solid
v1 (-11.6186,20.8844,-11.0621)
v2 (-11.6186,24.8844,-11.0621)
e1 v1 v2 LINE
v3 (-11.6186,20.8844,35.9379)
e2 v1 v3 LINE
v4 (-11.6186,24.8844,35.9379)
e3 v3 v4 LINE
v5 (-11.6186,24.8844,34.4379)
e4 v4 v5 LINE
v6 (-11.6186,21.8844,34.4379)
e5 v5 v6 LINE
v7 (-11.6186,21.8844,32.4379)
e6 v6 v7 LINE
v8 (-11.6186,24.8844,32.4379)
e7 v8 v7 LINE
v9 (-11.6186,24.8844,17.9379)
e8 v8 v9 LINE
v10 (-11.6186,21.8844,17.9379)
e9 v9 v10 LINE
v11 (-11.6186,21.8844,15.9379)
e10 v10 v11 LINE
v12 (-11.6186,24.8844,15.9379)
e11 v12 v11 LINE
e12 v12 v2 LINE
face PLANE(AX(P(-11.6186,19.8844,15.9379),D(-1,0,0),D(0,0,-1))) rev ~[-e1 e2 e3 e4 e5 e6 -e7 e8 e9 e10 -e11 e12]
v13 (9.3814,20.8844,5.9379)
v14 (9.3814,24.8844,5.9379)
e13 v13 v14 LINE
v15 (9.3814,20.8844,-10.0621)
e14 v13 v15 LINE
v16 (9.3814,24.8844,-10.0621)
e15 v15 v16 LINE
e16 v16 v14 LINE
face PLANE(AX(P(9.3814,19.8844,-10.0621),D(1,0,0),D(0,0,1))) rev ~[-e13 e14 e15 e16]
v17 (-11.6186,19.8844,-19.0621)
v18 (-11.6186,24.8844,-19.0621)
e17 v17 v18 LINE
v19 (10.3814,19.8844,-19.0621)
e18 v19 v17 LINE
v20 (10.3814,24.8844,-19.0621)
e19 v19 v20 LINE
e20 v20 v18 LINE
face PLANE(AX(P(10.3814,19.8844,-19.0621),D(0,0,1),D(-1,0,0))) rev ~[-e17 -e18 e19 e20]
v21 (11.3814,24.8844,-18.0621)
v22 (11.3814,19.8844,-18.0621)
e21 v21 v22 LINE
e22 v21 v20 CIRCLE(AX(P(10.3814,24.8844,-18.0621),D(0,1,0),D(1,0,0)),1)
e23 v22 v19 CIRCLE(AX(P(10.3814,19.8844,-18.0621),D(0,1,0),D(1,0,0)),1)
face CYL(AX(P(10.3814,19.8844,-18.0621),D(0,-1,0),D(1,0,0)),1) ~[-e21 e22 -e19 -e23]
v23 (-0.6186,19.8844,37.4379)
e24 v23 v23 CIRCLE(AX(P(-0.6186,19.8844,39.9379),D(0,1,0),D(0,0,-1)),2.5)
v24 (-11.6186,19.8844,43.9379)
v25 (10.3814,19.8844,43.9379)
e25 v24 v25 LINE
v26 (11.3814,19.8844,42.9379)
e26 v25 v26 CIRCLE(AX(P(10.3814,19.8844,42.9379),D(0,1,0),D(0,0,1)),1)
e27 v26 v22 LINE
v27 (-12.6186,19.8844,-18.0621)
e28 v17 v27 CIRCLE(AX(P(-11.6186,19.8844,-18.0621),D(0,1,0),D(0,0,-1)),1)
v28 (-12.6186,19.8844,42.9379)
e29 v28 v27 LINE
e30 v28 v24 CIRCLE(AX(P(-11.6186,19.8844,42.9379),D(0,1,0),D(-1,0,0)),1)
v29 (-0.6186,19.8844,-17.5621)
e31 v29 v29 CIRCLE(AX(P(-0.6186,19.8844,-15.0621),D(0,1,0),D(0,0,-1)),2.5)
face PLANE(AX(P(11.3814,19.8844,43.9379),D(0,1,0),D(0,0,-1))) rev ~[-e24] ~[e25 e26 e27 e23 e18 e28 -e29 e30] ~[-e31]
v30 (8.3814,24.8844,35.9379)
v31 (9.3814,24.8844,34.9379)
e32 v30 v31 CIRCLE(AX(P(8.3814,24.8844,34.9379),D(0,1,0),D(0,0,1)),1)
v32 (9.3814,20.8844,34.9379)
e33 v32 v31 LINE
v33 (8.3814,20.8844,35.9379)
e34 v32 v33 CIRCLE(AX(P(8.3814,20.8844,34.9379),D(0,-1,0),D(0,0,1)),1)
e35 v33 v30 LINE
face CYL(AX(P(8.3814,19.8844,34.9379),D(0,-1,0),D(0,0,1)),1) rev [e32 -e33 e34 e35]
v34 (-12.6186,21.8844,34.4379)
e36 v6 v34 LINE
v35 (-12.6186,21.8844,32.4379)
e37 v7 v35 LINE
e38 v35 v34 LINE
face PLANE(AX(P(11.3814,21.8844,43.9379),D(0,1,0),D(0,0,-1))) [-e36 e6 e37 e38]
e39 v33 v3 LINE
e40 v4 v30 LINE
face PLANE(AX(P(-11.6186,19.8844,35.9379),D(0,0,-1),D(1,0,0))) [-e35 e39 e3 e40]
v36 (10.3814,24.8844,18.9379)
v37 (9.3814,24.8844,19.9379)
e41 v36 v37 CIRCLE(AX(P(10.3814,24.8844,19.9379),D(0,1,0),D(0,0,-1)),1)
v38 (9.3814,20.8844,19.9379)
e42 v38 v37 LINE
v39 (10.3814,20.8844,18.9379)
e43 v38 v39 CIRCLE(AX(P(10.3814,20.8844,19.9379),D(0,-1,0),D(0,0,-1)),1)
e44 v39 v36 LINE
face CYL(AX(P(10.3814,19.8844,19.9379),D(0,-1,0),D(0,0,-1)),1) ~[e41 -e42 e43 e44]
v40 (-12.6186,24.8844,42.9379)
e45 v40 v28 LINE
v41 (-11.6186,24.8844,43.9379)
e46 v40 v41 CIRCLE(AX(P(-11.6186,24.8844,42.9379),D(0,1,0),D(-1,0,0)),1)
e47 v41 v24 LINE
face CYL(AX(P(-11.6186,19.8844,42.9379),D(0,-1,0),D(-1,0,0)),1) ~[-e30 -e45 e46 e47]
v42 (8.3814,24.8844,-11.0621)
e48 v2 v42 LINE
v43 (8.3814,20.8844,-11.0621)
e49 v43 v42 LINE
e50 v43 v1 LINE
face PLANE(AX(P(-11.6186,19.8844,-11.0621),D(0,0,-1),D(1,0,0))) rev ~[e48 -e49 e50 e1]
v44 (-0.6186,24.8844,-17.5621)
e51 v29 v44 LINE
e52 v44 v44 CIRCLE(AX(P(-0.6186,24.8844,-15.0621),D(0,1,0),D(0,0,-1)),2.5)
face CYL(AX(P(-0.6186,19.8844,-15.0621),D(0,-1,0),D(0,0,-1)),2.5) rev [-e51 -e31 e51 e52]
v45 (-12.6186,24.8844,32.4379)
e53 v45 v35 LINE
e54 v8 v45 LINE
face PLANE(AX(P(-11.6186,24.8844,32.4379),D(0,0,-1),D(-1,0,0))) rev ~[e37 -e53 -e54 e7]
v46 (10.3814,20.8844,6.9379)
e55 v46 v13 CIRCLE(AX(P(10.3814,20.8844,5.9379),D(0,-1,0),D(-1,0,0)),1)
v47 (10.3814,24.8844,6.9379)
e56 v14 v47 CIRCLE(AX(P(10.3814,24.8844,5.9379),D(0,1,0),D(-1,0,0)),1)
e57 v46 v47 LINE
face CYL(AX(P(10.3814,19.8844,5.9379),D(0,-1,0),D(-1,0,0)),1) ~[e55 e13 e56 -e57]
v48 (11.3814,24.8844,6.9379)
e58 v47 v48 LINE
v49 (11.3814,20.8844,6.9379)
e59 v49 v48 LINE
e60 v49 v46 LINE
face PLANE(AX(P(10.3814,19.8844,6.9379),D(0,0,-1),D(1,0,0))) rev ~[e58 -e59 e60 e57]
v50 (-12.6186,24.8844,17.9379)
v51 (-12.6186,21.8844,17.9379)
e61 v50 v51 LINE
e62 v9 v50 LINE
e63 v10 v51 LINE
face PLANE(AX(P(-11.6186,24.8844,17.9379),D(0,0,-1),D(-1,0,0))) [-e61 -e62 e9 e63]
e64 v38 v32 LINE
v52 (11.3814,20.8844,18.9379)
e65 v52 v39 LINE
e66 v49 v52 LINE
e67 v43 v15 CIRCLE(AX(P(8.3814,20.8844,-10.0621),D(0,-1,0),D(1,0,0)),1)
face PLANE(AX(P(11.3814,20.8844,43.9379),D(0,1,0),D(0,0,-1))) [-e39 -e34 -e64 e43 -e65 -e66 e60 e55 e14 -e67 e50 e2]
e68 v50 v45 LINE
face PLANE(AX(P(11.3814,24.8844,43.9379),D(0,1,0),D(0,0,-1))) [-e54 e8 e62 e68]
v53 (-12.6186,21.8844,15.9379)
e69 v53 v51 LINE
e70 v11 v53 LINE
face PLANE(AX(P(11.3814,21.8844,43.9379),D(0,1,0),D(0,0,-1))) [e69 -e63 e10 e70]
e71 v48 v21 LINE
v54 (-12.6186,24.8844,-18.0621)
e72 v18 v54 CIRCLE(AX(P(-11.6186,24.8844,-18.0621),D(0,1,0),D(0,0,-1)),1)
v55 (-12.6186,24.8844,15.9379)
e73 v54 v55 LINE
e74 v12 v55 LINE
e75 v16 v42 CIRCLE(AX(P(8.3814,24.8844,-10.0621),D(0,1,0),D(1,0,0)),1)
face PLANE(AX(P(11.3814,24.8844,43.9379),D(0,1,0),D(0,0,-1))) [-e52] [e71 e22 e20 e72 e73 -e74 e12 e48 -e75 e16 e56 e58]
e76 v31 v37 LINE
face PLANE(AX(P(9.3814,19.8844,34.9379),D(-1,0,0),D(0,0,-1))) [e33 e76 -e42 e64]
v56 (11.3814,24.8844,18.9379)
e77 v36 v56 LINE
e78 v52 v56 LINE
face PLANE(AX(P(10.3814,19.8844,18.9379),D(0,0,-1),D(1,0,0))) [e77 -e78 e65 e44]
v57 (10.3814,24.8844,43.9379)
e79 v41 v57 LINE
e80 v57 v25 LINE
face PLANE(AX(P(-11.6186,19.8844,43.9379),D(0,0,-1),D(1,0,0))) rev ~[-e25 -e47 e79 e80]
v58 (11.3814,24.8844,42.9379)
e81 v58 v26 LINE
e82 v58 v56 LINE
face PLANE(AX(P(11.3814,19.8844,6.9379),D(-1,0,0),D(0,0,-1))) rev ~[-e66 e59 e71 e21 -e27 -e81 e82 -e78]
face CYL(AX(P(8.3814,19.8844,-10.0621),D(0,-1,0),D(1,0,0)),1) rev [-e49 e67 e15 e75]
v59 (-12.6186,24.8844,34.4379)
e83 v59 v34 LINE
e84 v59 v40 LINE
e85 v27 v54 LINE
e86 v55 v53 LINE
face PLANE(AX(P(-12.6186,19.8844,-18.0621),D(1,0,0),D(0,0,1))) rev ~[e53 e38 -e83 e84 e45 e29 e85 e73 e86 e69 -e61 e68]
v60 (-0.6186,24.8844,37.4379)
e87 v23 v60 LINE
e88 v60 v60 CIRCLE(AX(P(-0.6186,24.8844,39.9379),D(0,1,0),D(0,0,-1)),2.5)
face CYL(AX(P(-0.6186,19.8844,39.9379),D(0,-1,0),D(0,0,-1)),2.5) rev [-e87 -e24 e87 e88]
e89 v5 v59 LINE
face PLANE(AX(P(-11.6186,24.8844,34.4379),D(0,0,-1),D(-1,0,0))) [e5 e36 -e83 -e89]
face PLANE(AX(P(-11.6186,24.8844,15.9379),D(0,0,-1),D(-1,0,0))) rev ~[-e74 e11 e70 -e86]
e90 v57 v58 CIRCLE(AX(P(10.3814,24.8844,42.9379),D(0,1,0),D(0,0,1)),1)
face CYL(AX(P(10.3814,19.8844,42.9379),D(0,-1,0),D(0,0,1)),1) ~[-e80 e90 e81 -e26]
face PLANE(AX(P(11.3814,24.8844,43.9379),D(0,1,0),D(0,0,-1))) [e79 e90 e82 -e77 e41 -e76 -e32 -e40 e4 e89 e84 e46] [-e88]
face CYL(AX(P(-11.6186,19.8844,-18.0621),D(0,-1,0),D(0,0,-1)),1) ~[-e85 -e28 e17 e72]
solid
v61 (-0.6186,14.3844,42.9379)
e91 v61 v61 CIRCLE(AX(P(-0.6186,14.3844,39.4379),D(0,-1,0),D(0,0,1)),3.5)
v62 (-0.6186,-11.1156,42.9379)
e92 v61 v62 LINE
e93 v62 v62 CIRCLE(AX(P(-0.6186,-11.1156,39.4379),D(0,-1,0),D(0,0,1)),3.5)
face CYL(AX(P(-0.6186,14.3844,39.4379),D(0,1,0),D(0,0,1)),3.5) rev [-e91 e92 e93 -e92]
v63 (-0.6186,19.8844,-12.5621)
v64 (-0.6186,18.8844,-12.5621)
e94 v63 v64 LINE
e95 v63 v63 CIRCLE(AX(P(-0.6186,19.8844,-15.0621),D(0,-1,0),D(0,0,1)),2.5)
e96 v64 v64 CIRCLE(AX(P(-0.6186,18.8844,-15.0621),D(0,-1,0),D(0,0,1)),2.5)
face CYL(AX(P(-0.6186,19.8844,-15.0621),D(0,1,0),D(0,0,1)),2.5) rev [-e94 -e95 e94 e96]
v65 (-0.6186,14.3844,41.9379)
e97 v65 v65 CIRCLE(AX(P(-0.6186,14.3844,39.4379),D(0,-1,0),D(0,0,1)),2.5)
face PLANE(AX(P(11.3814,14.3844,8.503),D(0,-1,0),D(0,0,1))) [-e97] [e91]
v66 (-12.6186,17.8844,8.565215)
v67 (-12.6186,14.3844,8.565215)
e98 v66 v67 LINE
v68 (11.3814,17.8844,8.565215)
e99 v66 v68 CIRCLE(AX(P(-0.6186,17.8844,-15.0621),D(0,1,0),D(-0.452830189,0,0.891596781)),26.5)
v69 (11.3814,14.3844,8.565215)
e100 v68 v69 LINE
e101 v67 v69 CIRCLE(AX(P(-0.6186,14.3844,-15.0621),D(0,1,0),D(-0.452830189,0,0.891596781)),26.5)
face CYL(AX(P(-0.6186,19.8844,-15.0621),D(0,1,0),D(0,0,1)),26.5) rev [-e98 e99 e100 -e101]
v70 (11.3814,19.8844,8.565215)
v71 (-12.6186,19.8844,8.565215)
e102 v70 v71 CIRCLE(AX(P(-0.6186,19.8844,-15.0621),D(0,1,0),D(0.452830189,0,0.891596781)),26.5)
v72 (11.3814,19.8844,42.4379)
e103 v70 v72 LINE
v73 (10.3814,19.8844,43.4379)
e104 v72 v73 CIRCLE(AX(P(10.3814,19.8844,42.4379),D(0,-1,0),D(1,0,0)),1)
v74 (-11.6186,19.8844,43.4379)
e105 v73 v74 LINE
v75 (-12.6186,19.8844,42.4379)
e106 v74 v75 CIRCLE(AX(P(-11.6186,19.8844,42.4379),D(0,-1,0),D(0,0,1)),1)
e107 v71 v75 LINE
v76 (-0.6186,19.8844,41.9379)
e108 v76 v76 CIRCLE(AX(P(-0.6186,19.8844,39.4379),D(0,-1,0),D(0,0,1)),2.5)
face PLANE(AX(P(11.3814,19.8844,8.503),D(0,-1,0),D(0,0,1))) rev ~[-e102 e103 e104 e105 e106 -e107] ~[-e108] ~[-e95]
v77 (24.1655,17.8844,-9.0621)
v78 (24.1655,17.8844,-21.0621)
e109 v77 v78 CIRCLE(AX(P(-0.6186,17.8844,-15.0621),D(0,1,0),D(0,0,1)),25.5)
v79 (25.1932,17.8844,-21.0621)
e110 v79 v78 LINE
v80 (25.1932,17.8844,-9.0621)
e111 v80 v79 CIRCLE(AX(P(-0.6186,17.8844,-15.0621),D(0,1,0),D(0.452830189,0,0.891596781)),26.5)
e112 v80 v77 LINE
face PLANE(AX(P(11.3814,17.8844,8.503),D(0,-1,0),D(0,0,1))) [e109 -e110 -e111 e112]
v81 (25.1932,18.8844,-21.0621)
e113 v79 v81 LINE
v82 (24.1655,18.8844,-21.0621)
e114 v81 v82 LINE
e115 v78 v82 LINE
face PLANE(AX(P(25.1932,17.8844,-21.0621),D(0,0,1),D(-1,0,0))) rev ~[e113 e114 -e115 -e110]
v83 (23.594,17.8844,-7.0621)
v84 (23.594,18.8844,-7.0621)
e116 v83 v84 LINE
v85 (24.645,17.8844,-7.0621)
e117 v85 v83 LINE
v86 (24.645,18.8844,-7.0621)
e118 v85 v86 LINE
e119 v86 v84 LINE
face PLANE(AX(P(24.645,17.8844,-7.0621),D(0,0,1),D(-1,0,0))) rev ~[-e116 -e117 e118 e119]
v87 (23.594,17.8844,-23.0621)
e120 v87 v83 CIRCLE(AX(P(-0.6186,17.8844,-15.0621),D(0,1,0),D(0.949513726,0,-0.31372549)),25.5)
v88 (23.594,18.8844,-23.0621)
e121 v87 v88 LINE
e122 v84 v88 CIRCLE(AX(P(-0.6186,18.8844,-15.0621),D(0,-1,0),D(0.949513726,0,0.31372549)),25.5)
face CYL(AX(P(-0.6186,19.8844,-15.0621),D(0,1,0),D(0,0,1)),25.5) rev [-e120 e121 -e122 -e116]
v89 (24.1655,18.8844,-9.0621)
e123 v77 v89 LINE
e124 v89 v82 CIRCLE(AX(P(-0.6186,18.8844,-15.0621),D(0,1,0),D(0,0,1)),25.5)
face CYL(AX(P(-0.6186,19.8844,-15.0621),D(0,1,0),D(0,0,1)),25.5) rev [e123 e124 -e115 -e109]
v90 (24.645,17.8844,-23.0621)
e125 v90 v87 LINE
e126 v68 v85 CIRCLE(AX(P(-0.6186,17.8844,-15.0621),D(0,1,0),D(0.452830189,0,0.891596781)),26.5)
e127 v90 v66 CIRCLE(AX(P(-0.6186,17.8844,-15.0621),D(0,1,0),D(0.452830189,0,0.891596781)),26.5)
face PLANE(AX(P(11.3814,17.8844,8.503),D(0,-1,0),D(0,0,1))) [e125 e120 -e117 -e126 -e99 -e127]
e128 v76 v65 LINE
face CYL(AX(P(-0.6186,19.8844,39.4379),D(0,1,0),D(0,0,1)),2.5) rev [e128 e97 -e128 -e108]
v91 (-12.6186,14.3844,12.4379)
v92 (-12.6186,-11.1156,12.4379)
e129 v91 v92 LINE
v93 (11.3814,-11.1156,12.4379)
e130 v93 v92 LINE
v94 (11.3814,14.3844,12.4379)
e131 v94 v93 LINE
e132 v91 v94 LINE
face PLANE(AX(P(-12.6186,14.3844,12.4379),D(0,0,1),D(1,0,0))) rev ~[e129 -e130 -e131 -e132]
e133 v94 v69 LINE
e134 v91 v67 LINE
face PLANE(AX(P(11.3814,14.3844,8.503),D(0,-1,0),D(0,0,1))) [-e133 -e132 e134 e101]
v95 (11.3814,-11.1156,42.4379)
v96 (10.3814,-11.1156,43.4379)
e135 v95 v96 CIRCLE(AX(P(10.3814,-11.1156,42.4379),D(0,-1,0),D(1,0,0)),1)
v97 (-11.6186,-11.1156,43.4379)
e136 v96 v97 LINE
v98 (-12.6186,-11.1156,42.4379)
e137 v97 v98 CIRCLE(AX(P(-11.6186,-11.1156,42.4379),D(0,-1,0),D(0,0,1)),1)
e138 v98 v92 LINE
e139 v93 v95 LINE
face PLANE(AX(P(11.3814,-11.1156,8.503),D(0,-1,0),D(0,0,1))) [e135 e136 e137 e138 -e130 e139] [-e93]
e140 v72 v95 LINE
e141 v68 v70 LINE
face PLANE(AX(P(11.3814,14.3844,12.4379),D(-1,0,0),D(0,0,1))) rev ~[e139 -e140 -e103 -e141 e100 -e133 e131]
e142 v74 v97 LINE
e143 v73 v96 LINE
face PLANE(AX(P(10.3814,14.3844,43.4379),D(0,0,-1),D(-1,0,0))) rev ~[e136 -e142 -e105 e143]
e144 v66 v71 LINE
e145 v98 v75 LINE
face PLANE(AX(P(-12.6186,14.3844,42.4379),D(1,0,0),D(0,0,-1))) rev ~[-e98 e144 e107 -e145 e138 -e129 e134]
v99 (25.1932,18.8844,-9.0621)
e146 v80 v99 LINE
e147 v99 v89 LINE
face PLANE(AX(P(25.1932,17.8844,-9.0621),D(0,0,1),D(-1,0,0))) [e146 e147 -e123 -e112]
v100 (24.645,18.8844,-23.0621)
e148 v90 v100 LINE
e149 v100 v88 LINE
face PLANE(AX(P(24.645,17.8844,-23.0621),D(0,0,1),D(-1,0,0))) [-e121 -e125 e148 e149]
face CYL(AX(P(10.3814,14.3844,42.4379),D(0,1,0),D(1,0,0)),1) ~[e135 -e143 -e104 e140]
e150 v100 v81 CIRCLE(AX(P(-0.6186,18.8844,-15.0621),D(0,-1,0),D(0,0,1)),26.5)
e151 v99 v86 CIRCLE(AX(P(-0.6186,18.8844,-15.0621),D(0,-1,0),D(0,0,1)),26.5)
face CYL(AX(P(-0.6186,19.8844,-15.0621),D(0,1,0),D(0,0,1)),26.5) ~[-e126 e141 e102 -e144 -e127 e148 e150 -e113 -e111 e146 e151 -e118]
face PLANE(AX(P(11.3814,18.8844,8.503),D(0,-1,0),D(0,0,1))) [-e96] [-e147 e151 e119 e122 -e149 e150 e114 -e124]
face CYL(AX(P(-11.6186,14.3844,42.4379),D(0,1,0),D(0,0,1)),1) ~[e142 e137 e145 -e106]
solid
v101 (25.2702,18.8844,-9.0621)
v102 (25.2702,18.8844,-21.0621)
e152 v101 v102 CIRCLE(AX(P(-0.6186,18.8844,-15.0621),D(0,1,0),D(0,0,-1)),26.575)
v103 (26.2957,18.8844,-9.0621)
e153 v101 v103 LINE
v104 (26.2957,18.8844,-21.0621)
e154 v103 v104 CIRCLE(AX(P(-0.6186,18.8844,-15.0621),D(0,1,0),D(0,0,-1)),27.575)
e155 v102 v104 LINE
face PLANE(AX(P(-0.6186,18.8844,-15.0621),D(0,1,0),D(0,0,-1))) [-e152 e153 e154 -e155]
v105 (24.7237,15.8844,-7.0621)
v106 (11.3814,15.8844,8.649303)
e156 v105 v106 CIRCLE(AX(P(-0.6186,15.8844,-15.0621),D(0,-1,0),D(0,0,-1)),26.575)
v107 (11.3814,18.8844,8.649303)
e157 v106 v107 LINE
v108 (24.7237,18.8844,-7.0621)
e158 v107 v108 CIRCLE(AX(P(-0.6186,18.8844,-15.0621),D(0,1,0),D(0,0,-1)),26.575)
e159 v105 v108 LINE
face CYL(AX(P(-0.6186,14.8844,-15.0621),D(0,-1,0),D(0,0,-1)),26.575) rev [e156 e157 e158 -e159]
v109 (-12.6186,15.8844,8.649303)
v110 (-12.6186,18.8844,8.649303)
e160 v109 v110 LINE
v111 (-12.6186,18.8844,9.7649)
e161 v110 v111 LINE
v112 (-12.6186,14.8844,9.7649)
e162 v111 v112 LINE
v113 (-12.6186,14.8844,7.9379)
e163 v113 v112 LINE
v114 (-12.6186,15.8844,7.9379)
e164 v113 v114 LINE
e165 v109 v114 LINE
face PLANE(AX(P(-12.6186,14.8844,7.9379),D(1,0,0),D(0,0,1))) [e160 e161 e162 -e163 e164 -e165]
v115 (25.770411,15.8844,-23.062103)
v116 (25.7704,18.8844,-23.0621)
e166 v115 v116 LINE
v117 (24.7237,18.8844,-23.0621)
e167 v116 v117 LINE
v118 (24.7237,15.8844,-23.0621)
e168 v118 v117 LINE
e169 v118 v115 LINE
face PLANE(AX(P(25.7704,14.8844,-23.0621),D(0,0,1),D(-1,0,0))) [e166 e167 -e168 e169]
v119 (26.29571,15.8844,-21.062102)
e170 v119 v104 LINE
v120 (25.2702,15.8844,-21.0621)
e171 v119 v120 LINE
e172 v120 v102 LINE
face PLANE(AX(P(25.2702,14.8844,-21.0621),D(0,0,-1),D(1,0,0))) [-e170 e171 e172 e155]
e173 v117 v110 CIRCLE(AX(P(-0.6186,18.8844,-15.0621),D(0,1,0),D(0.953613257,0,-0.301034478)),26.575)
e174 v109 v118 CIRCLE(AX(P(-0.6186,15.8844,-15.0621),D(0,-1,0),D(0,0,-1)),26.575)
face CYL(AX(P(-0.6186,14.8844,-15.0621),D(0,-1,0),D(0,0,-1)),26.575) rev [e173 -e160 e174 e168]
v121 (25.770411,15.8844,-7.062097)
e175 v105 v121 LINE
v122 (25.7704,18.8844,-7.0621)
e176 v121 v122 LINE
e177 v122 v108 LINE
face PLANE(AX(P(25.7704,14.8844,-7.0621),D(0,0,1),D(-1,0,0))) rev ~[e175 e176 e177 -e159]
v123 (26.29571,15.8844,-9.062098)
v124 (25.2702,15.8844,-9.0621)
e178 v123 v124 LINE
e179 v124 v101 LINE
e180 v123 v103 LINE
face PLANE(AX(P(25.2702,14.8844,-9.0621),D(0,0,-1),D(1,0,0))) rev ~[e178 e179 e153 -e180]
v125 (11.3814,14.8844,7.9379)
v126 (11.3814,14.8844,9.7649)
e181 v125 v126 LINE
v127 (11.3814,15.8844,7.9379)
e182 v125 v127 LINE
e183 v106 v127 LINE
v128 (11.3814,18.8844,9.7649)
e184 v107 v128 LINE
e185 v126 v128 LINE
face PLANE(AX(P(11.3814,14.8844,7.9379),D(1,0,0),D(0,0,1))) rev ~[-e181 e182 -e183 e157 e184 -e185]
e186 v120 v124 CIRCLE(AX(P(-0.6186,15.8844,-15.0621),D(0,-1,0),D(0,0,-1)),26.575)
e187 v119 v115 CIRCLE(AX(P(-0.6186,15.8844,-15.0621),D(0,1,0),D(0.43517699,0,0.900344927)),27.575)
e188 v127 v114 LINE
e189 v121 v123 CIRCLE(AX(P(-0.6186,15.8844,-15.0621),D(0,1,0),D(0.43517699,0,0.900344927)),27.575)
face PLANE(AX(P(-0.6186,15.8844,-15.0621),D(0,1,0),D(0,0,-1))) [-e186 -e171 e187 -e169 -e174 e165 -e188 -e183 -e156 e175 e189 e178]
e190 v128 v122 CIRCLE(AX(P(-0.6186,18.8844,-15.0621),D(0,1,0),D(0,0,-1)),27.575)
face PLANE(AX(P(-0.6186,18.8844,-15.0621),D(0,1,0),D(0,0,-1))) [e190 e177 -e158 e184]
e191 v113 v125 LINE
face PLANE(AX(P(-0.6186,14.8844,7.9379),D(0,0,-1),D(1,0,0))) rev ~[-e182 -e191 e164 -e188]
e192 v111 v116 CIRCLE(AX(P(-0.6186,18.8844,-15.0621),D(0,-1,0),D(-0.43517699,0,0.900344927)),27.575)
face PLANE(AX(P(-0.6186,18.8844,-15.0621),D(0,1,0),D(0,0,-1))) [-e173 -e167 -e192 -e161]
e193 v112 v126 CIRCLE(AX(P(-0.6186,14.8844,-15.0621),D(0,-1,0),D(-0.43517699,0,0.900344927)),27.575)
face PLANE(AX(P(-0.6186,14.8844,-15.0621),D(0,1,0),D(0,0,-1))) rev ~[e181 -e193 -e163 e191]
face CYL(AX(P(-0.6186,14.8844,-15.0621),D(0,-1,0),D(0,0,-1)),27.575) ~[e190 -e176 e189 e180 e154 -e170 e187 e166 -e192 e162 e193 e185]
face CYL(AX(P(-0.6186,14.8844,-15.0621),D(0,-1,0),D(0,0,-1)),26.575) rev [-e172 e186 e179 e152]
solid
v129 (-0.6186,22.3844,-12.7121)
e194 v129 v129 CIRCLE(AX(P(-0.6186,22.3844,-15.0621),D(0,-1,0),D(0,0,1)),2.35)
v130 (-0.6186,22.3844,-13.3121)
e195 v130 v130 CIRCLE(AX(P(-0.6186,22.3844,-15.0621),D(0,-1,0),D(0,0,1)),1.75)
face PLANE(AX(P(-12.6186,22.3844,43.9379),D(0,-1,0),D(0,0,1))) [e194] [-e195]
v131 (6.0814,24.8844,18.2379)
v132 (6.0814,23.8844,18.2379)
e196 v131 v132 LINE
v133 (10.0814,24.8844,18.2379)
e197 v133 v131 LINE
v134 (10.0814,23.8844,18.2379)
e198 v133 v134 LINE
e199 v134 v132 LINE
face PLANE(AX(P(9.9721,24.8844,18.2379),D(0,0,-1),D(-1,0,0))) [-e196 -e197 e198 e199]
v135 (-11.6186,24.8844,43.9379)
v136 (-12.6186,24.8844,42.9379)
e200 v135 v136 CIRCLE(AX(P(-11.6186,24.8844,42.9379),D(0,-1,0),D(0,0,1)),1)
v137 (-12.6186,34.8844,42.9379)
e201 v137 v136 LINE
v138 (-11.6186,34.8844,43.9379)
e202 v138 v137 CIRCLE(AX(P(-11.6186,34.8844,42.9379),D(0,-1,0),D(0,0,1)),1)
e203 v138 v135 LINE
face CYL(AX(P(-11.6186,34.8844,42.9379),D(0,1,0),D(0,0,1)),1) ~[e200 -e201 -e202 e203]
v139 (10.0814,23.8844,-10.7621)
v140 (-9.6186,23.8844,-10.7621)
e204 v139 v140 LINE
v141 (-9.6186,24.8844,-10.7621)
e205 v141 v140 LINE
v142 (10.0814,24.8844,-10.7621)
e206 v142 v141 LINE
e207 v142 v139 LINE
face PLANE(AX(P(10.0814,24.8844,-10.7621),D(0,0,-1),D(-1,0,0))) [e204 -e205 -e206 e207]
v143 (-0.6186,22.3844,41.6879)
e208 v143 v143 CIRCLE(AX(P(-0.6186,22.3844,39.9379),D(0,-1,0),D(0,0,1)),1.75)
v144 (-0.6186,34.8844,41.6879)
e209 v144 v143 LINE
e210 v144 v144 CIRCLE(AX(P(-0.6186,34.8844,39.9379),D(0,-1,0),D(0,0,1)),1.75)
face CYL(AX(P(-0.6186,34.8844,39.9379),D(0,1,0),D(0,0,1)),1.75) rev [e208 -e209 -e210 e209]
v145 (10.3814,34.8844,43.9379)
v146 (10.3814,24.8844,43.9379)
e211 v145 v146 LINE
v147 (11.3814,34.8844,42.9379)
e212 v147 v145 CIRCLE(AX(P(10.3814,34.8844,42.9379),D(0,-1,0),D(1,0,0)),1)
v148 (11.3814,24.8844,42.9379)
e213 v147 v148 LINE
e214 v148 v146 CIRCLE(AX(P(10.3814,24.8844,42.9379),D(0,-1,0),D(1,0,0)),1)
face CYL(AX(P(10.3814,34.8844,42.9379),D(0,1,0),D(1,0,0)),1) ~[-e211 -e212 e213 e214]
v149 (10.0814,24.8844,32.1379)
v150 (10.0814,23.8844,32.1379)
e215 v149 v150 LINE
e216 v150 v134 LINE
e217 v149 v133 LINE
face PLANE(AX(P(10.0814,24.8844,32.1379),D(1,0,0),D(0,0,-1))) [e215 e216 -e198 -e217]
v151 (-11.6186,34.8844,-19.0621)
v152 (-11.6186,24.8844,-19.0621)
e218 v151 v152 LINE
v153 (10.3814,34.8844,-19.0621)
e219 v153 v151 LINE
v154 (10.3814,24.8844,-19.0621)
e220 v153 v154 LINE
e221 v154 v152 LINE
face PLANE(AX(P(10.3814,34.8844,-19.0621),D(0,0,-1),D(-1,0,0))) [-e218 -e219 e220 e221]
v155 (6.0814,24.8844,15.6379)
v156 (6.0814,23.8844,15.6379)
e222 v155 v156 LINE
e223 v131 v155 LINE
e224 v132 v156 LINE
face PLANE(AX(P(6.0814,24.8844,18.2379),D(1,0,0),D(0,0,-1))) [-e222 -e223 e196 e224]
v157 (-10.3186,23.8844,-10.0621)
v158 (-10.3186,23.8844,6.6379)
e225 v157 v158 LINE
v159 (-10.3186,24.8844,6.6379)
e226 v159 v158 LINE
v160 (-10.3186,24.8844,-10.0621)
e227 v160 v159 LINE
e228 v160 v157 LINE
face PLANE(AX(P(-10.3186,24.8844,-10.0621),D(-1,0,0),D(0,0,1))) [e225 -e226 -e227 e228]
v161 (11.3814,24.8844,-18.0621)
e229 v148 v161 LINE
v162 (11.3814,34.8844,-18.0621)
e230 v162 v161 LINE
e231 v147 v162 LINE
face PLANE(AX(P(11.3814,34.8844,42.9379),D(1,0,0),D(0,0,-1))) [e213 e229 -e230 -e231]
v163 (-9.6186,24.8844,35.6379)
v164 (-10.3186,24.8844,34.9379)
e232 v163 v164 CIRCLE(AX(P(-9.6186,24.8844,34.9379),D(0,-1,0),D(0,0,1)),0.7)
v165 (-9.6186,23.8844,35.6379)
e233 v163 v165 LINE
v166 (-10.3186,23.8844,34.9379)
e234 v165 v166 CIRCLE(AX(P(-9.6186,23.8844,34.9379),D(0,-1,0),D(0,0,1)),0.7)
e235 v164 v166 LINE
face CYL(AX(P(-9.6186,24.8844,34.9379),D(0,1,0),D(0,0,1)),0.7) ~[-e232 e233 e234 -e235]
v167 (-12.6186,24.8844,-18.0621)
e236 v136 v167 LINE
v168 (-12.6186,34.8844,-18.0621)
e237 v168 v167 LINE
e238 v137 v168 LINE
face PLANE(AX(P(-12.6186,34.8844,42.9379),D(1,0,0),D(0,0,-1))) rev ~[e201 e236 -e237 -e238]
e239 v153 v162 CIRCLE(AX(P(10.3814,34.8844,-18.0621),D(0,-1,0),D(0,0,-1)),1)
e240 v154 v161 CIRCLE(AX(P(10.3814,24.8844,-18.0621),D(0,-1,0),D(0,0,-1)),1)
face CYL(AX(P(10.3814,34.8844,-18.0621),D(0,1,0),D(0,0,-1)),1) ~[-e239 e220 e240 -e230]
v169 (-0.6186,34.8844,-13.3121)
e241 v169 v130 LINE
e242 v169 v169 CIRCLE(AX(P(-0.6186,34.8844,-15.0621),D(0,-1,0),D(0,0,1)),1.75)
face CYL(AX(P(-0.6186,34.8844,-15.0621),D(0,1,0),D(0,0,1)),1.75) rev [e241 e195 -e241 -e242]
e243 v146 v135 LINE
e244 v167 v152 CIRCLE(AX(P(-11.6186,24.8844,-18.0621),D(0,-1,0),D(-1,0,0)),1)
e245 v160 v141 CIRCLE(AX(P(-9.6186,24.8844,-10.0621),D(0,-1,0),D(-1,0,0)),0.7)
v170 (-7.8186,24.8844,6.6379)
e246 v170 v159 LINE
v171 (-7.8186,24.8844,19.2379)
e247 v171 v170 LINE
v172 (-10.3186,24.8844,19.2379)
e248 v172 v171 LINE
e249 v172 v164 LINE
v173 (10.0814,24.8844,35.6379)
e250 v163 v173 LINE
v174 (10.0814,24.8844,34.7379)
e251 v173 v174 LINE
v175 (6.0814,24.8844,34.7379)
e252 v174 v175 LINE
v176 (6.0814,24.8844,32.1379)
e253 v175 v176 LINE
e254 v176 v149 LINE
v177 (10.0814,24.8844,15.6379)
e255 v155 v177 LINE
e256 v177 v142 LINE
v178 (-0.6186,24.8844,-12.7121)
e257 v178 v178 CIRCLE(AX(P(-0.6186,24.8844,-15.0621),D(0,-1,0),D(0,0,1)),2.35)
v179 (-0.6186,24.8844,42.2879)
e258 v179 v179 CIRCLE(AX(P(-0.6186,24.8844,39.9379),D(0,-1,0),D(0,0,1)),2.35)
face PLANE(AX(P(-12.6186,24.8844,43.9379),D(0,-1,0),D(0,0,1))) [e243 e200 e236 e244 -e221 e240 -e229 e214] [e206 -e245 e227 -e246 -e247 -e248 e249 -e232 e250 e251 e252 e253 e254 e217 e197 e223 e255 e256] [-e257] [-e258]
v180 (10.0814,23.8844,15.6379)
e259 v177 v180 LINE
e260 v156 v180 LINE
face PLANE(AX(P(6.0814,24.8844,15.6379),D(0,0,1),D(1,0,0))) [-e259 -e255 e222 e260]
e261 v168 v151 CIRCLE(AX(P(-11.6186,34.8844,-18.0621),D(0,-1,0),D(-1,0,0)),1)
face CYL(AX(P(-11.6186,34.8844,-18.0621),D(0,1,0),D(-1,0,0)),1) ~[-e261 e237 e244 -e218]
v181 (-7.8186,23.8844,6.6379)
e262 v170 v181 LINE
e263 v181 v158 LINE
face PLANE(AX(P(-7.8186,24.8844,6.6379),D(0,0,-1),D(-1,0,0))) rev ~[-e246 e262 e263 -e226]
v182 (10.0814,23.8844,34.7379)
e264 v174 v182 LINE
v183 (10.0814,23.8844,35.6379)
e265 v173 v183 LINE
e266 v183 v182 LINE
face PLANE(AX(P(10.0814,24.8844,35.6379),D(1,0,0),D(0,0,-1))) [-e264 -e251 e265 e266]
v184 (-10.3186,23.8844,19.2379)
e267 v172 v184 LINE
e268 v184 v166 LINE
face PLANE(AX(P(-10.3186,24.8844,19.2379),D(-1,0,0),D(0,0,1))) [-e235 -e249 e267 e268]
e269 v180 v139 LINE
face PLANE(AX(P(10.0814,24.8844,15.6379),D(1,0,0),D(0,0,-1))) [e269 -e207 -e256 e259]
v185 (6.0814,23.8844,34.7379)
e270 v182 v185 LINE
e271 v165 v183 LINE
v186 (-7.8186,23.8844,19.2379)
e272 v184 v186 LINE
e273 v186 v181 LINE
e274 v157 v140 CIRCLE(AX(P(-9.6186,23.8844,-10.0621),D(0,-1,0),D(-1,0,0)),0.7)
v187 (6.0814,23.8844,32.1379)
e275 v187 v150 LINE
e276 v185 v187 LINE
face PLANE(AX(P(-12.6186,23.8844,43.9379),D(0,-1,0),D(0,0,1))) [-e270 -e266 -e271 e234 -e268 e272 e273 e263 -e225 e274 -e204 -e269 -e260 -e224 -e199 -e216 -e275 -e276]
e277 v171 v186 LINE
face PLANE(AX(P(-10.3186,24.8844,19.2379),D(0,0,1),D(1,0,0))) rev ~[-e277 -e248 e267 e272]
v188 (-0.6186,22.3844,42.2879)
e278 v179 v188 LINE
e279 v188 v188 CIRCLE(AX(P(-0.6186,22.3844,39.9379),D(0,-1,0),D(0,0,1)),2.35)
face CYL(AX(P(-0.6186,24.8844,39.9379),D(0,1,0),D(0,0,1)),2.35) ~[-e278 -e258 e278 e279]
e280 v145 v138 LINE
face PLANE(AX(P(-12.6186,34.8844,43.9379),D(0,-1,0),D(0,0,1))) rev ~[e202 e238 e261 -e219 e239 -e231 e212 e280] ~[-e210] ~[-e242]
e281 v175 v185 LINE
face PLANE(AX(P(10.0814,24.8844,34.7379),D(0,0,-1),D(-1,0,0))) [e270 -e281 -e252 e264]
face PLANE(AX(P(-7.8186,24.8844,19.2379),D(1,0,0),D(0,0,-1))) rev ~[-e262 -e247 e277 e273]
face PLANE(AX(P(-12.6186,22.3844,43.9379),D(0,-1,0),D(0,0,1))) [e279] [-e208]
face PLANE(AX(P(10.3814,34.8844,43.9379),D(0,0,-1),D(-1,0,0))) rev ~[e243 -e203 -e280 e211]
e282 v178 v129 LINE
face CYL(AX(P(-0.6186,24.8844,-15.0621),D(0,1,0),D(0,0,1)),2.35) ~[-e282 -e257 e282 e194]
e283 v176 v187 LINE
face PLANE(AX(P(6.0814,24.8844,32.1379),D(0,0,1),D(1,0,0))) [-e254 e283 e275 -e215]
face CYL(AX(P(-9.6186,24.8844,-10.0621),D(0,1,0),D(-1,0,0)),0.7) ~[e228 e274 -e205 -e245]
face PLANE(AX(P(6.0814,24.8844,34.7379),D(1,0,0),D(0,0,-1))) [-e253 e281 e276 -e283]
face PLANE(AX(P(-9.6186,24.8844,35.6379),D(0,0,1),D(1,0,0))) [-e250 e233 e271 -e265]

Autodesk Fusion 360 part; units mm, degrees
sketch "Bottom" plane through (0, 0, 0) normal (0, 0, 1) x (1, 0, 0) in component "Coil Case"
  arc A0 (33.9349, 0) -> (34.9349, 1) centre (33.9349, 1) ccw
  arc A1 (34.9349, 23) -> (33.9349, 24) centre (33.9349, 23) ccw
  line L0 (3.9349, 24) -> (3.9349, 0)
  circle A2 centre (30.9349, 12) radius 3.5
  circle A3 centre (30.9349, 12) radius 2.5
  line L1 (0, 0) -> (33.9349, 0)
  line L2 (34.9349, 1) -> (34.9349, 23)
  line L3 (33.9349, 24) -> (0, 24)
  line L4 (30.9349, 12) -> (34.9349, 12) construction
  line L5 (0, 0) -> (0, 24) construction
  circle A4 centre (-23.5651, 12) radius 26.5
  line L6 (0, 12) -> (-23.5651, 12) construction
  circle A5 centre (-23.5651, 12) radius 25.5
  circle A6 centre (-23.5651, 12) radius 2.5
  line L7 (-23.5651, 12) -> (-23.5651, -14.5) construction
  line L8 (-17.5651, -13.8118) -> (-17.5651, -12.7841)
  line L9 (-15.5651, -13.2636) -> (-15.5651, -12.2126)
  line L10 (-29.5651, -13.8118) -> (-29.5651, -12.7841)
  line L11 (-31.5651, -13.2636) -> (-31.5651, -12.2126)
  dimension "d2" = 7
  dimension "d4" = 33.9349
  dimension "d6" = 5
  dimension "d8" = 4
  dimension "d9" = 22
  dimension "d10" = 1
  dimension "d11" = 1
  dimension "d21" = 12
  dimension "d22" = 33.9349
  dimension "d23" = 3.9349
  dimension "d27" = 53
  dimension "d28" = 23.5651
  dimension "d29" = 51
  dimension "d30" = 5
  dimension "d37" = 2
  dimension "d38" = 6
  dimension "d24" = 0
  dimension "d25" = 0
  dimension "d26" = 0
  dimension "d35" = 0
extrude "Extrude1" add sketch "Bottom" along normal blind 5.5 contours A0 A1 L0 L1 L2 L3 | L0 L1 L3 A4 | A2 makes body 1 in component "Coil Case"
extrude "Extrude2" add sketch "Bottom" along normal blind 25.5 from surface at 5.5 contours A0 A1 L0 L1 L2 L3 bodies 1 in component "Coil Case"
sketch "Side" plane through (34.9349, 0, 0) normal (1, 0, 0) x (0, 1, 0) in component "Coil Case"
  line L0 (1, 0) -> (23, 0)
  line L1 (23, 0) -> (23, 31)
  line L2 (23, 31) -> (1, 31)
  line L3 (1, 31) -> (1, 0)
  line L4 (12, 0) -> (12, 17) construction
  line L5 (12, 17) -> (12, 26.5) construction
  circle A0 centre (12, 26.5) radius 9.5
  dimension "d17" = 17
  dimension "d18" = 9.5
extrude "Extrude3" cut sketch "Side" against normal blind 31 contours L2 A0 picked at (11.7728, 32.6585) bodies 1 in component "Coil Case"
extrude "Extrude4" add sketch "Bottom" along normal blind 1 contours A4 A5 L9 L11 | A4 A5 L8 L9 | A4 A5 L10 L11 | A4 A5 L8 L10 | A5 bodies 1 in component "Coil Case"
extrude "Extrude5" add sketch "Bottom" along normal blind 2 contours A4 A5 L9 L11 | A4 A5 L8 L9 | A4 A5 L10 L11 | A4 A5 L8 L10 bodies 1 in component "Coil Case"
extrude "Extrude6" cut sketch "Bottom" against normal up to surface (1 mm away) from surface at 2 contours A4 A5 L8 L9 | A4 A5 L10 L11 bodies 1 in component "Coil Case"
sketch "Bottom (2)" plane through (0, 0, 0) normal (0, 1, 0) x (-1, 0, 0) in component "Coil Top"
  circle A0 centre (0, 0) radius 26.575
  circle A1 centre (0, 0) radius 27.575
  line L0 (6, -25.8888) -> (6, -26.9143)
  line L1 (8, -26.389) -> (8, -25.3423)
  line L2 (0, 0) -> (0, -27.575) construction
  line L3 (-6, -25.8888) -> (-6, -26.9143)
  line L4 (-8, -26.389) -> (-8, -25.3423)
  line L5 (0, 0) -> (0, 27.575) construction
  line L6 (0, 0) -> (-27.575, 0) construction
  line L7 (-23, 0) -> (-23, 12)
  line L8 (-23, 12) -> (-24.827, 12)
  line L9 (-23, 0) -> (-23, -12)
  line L10 (-23, -12) -> (-24.827, -12)
  dimension "d17_1" = 53.15
  dimension "d18_1" = 55.15
  dimension "d29_1" = 6
  dimension "d30_1" = 2
  dimension "d1" = 0
  dimension "d3" = 0
  dimension "d5" = 0
  dimension "d7" = 0
  dimension "d47" = 12
  dimension "d48" = 12
extrude "Extrude4'" add sketch "Bottom (2)" along normal blind 1 separate body contours A0 L7 L8 L9 L10 | A0 A1 L4 L10 | A0 A1 L3 L4 | A0 A1 L0 L3 | A0 A1 L0 L1 | A0 A1 L1 L8 picked at (9.9525, 1.3107) makes body 2 in component "Coil Top"
extrude "Extrude5'" add sketch "Bottom (2)" along normal blind 4 contours A0 A1 L4 L10 | A0 A1 L0 L3 | A0 A1 L1 L8 bodies 2 in component "Coil Top"
sketch "Bottom (3)" plane through (0, 0, 0) normal (0, 1, 0) x (-1, 0, 0) in component "PCB Top"
  arc A0 (-1, -24) -> (0, -23) centre (-1, -23) ccw
  line L0 (0, -23) -> (0, -1)
  arc A1 (0, -1) -> (-1, 0) centre (-1, -1) ccw
  line L1 (-63, -23) -> (-63, -1)
  line L2 (0, -1) -> (0, -23)
  arc A2 (-1, -24) -> (0, -23) centre (-1, -23) ccw
  arc A3 (-63, -23) -> (-62, -24) centre (-62, -23) ccw
  arc A4 (-62, 0) -> (-63, -1) centre (-62, -1) ccw
  arc A5 (0, -1) -> (-1, 0) centre (-1, -1) ccw
  circle A6 centre (-59, -12) radius 2.35
  circle A7 centre (-59, -12) radius 1.75
  circle A8 centre (-4, -12) radius 2.35
  circle A9 centre (-4, -12) radius 1.75
  line L3 (-1, -24) -> (-62, -24)
  line L4 (-9.2, -22.7) -> (-9.2, -18.7)
  line L5 (-9.2, -18.7) -> (-11.8, -18.7)
  line L6 (-11.8, -18.7) -> (-11.8, -22.7)
  line L7 (-11.8, -22.7) -> (-25.7, -22.7)
  line L8 (-25.7, -22.7) -> (-25.7, -22.5907)
  line L9 (-25.7, -22.5907) -> (-25.7, -18.7)
  line L10 (-25.7, -18.7) -> (-28.3, -18.7)
  line L11 (-28.3, -18.7) -> (-28.3, -22.7)
  line L12 (-28.3, -22.7) -> (-54.7, -22.7)
  line L13 (-54.7, -22.7) -> (-54.7, -3)
  arc A10 (-54, -2.3) -> (-54.7, -3) centre (-54, -3) ccw
  line L14 (-54, -2.3) -> (-37.3, -2.3)
  line L15 (-37.3, -4.8) -> (-37.3, -2.3)
  line L16 (-24.7, -4.8) -> (-37.3, -4.8)
  line L17 (-24.7, -2.3) -> (-24.7, -4.8)
  line L18 (-24.7, -2.3) -> (-9, -2.3)
  arc A11 (-8.3, -3) -> (-9, -2.3) centre (-9, -3) ccw
  line L19 (-8.3, -3) -> (-8.3, -22.7)
  line L20 (-8.3, -22.7) -> (-9.2, -22.7)
  line L21 (-4, -12) -> (0, -12) construction
  line L22 (-4, -12) -> (-4, 0) construction
  line L23 (-59, -12) -> (-59, 0) construction
  line L24 (-59, -12) -> (-63, -12) construction
  line L25 (-1, 0) -> (-62, 0)
  line L26 (0, 0) -> (-1, 0) construction
  line L27 (0, 0) -> (0, -1) construction
  dimension "d55_1" = 1
  dimension "d61" = 4.7
  dimension "d62" = 3.5
  dimension "d64" = 4.7
  dimension "d65" = 3.5
  dimension "d80" = 12
  dimension "d81" = 4
  dimension "d82" = 61
  dimension "d84" = 22
  dimension "d85" = 12
  dimension "d86" = 4
  dimension "d87" = 61
  dimension "d88" = 1
  dimension "d89" = 2.3
  dimension "d90" = 2.5
  dimension "d91" = 12.6
  dimension "d92" = 2.5
  dimension "d93" = 16.7
  dimension "d94" = 19.7
  dimension "d95" = 0.9
  dimension "d96" = 2.6
  dimension "d97" = 4
  dimension "d98" = 4
  dimension "d99" = 13.9
  dimension "d100" = 3.8907
  dimension "d101" = 2.6
  dimension "d102" = 4
  dimension "d103" = 26.4
  dimension "d104" = 19.7
  dimension "d105" = 0.7
  dimension "d106" = 8.3
extrude "Extrude15" add sketch "Bottom (3)" along normal blind 10 separate body contours A0 L0 A1 L1 L2 A2 A3 A4 A5 L3 L25 | A6 | A8 | L4 L5 L6 L7 L8 L9 L10 L11 L12 L13 A10 L14 L15 L16 L17 L18 A11 L19 L20 makes body 3 in component "PCB Top"
extrude "Extrude16" add sketch "Bottom (3)" along normal blind 1 from surface at 10 contours L4 L5 L6 L7 L8 L9 L10 L11 L12 L13 A10 L14 L15 L16 L17 L18 A11 L19 L20 bodies 3 in component "PCB Top"
extrude "Extrude17" add sketch "Bottom (3)" along normal blind 2.5 from surface at 10 contours A6 | A8 bodies 3 in component "PCB Top"
sketch "Bottom (4)" plane through (0, 0, 0) normal (0, 1, 0) x (1, 0, 0) in component "PCB Bottom"
  line L0 (63, 1) -> (63, 23)
  arc A0 (63, 23) -> (62, 24) centre (62, 23) ccw
  arc A1 (62, 0) -> (63, 1) centre (62, 1) ccw
  line L1 (1, 0) -> (62, 0)
  line L2 (8, 23) -> (55, 23)
  circle A2 centre (59, 12) radius 2.5
  line L3 (62, 24) -> (1, 24)
  line L4 (0, 23) -> (0, 1)
  arc A3 (1, 24) -> (0, 23) centre (1, 23) ccw
  arc A4 (0, 1) -> (1, 0) centre (1, 1) ccw
  circle A5 centre (4, 12) radius 2.5
  line L5 (8, 23) -> (8, 3)
  line L6 (55, 23) -> (55, 3)
  line L7 (9, 2) -> (24, 2)
  line L8 (54, 2) -> (54, 2)
  line L9 (54, 2) -> (38, 2)
  line L10 (25, 1) -> (25, 0)
  line L11 (37, 1) -> (37, 0)
  arc A6 (8, 3) -> (9, 2) centre (9, 3) ccw
  arc A7 (25, 1) -> (24, 2) centre (24, 1) ccw
  arc A8 (38, 2) -> (37, 1) centre (38, 1) ccw
  arc A9 (54, 2) -> (55, 3) centre (54, 3) ccw
  line L12 (4, 12) -> (4, 0) construction
  line L13 (4, 12) -> (0, 12) construction
  line L14 (59, 12) -> (59, 0) construction
  line L15 (59, 12) -> (63, 12) construction
  line L16 (9.5, 23) -> (9.5, 24)
  line L17 (11.5, 23) -> (11.5, 24)
  line L18 (26, 23) -> (26, 24)
  line L19 (28, 23) -> (28, 24)
  point P0 (63, 0)
  point P1 (0, 24)
  point P2 (8, 2)
  point P3 (55, 2)
  point P4 (25, 2)
  point P5 (37, 2)
  dimension "d1_1" = 24
  dimension "d2_1" = 63
  dimension "d4_1" = 1
  dimension "d5_1" = 1
  dimension "d22_2" = 5
  dimension "d36_1" = 1
  dimension "d37_1" = 5
  dimension "d44_1" = 21
  dimension "d45" = 21
  dimension "d46" = 17
  dimension "d47_1" = 17
  dimension "d48_1" = 1
  dimension "d55_2" = 12
  dimension "d56_1" = 4
  dimension "d57" = 22
  dimension "d58" = 4
  dimension "d59" = 12
  dimension "d60" = 1
  dimension "d67" = 9.5
  dimension "d71" = 2
  dimension "d72" = 14.5
  dimension "d73" = 2
extrude "Extrude11" add sketch "Bottom (4)" along normal blind 1 separate body makes body 4 in component "PCB Bottom"
extrude "Extrude12" add sketch "Bottom (4)" along normal blind 5 contours L0 A0 A1 L1 L2 L3 L6 L9 L11 A8 A9 L19 | L2 L3 L18 L19 | L1 L2 L3 L4 A3 A4 L5 L7 L10 A6 A7 L16 | L2 L3 L17 L18 | L2 L3 L16 L17 bodies 4 in component "PCB Bottom"
extrude "Extrude13" cut sketch "Bottom (4)" against normal blind 3 from surface at 5 contours L2 L3 L18 L19 | L2 L3 L16 L17 bodies 4 in component "PCB Bottom"
component "Coil Case" placed x (0, 0, 1) y (-1, 0, 0) z (0, -1, 0) at (11.3814, 19.8844, 8.503)
component "Coil Top" placed x (0, 0, 1) y (0, 1, 0) z (-1, 0, 0) at (-0.6186, 14.8844, -15.0621)
component "PCB Top" placed x (0, 0, -1) y (0, -1, 0) z (-1, 0, 0) at (-12.6186, 34.8844, 43.9379)
component "PCB Bottom" placed x (0, 0, -1) y (0, 1, 0) z (1, 0, 0) at (11.3814, 19.8844, 43.9379)
equation "d22 = d4"
